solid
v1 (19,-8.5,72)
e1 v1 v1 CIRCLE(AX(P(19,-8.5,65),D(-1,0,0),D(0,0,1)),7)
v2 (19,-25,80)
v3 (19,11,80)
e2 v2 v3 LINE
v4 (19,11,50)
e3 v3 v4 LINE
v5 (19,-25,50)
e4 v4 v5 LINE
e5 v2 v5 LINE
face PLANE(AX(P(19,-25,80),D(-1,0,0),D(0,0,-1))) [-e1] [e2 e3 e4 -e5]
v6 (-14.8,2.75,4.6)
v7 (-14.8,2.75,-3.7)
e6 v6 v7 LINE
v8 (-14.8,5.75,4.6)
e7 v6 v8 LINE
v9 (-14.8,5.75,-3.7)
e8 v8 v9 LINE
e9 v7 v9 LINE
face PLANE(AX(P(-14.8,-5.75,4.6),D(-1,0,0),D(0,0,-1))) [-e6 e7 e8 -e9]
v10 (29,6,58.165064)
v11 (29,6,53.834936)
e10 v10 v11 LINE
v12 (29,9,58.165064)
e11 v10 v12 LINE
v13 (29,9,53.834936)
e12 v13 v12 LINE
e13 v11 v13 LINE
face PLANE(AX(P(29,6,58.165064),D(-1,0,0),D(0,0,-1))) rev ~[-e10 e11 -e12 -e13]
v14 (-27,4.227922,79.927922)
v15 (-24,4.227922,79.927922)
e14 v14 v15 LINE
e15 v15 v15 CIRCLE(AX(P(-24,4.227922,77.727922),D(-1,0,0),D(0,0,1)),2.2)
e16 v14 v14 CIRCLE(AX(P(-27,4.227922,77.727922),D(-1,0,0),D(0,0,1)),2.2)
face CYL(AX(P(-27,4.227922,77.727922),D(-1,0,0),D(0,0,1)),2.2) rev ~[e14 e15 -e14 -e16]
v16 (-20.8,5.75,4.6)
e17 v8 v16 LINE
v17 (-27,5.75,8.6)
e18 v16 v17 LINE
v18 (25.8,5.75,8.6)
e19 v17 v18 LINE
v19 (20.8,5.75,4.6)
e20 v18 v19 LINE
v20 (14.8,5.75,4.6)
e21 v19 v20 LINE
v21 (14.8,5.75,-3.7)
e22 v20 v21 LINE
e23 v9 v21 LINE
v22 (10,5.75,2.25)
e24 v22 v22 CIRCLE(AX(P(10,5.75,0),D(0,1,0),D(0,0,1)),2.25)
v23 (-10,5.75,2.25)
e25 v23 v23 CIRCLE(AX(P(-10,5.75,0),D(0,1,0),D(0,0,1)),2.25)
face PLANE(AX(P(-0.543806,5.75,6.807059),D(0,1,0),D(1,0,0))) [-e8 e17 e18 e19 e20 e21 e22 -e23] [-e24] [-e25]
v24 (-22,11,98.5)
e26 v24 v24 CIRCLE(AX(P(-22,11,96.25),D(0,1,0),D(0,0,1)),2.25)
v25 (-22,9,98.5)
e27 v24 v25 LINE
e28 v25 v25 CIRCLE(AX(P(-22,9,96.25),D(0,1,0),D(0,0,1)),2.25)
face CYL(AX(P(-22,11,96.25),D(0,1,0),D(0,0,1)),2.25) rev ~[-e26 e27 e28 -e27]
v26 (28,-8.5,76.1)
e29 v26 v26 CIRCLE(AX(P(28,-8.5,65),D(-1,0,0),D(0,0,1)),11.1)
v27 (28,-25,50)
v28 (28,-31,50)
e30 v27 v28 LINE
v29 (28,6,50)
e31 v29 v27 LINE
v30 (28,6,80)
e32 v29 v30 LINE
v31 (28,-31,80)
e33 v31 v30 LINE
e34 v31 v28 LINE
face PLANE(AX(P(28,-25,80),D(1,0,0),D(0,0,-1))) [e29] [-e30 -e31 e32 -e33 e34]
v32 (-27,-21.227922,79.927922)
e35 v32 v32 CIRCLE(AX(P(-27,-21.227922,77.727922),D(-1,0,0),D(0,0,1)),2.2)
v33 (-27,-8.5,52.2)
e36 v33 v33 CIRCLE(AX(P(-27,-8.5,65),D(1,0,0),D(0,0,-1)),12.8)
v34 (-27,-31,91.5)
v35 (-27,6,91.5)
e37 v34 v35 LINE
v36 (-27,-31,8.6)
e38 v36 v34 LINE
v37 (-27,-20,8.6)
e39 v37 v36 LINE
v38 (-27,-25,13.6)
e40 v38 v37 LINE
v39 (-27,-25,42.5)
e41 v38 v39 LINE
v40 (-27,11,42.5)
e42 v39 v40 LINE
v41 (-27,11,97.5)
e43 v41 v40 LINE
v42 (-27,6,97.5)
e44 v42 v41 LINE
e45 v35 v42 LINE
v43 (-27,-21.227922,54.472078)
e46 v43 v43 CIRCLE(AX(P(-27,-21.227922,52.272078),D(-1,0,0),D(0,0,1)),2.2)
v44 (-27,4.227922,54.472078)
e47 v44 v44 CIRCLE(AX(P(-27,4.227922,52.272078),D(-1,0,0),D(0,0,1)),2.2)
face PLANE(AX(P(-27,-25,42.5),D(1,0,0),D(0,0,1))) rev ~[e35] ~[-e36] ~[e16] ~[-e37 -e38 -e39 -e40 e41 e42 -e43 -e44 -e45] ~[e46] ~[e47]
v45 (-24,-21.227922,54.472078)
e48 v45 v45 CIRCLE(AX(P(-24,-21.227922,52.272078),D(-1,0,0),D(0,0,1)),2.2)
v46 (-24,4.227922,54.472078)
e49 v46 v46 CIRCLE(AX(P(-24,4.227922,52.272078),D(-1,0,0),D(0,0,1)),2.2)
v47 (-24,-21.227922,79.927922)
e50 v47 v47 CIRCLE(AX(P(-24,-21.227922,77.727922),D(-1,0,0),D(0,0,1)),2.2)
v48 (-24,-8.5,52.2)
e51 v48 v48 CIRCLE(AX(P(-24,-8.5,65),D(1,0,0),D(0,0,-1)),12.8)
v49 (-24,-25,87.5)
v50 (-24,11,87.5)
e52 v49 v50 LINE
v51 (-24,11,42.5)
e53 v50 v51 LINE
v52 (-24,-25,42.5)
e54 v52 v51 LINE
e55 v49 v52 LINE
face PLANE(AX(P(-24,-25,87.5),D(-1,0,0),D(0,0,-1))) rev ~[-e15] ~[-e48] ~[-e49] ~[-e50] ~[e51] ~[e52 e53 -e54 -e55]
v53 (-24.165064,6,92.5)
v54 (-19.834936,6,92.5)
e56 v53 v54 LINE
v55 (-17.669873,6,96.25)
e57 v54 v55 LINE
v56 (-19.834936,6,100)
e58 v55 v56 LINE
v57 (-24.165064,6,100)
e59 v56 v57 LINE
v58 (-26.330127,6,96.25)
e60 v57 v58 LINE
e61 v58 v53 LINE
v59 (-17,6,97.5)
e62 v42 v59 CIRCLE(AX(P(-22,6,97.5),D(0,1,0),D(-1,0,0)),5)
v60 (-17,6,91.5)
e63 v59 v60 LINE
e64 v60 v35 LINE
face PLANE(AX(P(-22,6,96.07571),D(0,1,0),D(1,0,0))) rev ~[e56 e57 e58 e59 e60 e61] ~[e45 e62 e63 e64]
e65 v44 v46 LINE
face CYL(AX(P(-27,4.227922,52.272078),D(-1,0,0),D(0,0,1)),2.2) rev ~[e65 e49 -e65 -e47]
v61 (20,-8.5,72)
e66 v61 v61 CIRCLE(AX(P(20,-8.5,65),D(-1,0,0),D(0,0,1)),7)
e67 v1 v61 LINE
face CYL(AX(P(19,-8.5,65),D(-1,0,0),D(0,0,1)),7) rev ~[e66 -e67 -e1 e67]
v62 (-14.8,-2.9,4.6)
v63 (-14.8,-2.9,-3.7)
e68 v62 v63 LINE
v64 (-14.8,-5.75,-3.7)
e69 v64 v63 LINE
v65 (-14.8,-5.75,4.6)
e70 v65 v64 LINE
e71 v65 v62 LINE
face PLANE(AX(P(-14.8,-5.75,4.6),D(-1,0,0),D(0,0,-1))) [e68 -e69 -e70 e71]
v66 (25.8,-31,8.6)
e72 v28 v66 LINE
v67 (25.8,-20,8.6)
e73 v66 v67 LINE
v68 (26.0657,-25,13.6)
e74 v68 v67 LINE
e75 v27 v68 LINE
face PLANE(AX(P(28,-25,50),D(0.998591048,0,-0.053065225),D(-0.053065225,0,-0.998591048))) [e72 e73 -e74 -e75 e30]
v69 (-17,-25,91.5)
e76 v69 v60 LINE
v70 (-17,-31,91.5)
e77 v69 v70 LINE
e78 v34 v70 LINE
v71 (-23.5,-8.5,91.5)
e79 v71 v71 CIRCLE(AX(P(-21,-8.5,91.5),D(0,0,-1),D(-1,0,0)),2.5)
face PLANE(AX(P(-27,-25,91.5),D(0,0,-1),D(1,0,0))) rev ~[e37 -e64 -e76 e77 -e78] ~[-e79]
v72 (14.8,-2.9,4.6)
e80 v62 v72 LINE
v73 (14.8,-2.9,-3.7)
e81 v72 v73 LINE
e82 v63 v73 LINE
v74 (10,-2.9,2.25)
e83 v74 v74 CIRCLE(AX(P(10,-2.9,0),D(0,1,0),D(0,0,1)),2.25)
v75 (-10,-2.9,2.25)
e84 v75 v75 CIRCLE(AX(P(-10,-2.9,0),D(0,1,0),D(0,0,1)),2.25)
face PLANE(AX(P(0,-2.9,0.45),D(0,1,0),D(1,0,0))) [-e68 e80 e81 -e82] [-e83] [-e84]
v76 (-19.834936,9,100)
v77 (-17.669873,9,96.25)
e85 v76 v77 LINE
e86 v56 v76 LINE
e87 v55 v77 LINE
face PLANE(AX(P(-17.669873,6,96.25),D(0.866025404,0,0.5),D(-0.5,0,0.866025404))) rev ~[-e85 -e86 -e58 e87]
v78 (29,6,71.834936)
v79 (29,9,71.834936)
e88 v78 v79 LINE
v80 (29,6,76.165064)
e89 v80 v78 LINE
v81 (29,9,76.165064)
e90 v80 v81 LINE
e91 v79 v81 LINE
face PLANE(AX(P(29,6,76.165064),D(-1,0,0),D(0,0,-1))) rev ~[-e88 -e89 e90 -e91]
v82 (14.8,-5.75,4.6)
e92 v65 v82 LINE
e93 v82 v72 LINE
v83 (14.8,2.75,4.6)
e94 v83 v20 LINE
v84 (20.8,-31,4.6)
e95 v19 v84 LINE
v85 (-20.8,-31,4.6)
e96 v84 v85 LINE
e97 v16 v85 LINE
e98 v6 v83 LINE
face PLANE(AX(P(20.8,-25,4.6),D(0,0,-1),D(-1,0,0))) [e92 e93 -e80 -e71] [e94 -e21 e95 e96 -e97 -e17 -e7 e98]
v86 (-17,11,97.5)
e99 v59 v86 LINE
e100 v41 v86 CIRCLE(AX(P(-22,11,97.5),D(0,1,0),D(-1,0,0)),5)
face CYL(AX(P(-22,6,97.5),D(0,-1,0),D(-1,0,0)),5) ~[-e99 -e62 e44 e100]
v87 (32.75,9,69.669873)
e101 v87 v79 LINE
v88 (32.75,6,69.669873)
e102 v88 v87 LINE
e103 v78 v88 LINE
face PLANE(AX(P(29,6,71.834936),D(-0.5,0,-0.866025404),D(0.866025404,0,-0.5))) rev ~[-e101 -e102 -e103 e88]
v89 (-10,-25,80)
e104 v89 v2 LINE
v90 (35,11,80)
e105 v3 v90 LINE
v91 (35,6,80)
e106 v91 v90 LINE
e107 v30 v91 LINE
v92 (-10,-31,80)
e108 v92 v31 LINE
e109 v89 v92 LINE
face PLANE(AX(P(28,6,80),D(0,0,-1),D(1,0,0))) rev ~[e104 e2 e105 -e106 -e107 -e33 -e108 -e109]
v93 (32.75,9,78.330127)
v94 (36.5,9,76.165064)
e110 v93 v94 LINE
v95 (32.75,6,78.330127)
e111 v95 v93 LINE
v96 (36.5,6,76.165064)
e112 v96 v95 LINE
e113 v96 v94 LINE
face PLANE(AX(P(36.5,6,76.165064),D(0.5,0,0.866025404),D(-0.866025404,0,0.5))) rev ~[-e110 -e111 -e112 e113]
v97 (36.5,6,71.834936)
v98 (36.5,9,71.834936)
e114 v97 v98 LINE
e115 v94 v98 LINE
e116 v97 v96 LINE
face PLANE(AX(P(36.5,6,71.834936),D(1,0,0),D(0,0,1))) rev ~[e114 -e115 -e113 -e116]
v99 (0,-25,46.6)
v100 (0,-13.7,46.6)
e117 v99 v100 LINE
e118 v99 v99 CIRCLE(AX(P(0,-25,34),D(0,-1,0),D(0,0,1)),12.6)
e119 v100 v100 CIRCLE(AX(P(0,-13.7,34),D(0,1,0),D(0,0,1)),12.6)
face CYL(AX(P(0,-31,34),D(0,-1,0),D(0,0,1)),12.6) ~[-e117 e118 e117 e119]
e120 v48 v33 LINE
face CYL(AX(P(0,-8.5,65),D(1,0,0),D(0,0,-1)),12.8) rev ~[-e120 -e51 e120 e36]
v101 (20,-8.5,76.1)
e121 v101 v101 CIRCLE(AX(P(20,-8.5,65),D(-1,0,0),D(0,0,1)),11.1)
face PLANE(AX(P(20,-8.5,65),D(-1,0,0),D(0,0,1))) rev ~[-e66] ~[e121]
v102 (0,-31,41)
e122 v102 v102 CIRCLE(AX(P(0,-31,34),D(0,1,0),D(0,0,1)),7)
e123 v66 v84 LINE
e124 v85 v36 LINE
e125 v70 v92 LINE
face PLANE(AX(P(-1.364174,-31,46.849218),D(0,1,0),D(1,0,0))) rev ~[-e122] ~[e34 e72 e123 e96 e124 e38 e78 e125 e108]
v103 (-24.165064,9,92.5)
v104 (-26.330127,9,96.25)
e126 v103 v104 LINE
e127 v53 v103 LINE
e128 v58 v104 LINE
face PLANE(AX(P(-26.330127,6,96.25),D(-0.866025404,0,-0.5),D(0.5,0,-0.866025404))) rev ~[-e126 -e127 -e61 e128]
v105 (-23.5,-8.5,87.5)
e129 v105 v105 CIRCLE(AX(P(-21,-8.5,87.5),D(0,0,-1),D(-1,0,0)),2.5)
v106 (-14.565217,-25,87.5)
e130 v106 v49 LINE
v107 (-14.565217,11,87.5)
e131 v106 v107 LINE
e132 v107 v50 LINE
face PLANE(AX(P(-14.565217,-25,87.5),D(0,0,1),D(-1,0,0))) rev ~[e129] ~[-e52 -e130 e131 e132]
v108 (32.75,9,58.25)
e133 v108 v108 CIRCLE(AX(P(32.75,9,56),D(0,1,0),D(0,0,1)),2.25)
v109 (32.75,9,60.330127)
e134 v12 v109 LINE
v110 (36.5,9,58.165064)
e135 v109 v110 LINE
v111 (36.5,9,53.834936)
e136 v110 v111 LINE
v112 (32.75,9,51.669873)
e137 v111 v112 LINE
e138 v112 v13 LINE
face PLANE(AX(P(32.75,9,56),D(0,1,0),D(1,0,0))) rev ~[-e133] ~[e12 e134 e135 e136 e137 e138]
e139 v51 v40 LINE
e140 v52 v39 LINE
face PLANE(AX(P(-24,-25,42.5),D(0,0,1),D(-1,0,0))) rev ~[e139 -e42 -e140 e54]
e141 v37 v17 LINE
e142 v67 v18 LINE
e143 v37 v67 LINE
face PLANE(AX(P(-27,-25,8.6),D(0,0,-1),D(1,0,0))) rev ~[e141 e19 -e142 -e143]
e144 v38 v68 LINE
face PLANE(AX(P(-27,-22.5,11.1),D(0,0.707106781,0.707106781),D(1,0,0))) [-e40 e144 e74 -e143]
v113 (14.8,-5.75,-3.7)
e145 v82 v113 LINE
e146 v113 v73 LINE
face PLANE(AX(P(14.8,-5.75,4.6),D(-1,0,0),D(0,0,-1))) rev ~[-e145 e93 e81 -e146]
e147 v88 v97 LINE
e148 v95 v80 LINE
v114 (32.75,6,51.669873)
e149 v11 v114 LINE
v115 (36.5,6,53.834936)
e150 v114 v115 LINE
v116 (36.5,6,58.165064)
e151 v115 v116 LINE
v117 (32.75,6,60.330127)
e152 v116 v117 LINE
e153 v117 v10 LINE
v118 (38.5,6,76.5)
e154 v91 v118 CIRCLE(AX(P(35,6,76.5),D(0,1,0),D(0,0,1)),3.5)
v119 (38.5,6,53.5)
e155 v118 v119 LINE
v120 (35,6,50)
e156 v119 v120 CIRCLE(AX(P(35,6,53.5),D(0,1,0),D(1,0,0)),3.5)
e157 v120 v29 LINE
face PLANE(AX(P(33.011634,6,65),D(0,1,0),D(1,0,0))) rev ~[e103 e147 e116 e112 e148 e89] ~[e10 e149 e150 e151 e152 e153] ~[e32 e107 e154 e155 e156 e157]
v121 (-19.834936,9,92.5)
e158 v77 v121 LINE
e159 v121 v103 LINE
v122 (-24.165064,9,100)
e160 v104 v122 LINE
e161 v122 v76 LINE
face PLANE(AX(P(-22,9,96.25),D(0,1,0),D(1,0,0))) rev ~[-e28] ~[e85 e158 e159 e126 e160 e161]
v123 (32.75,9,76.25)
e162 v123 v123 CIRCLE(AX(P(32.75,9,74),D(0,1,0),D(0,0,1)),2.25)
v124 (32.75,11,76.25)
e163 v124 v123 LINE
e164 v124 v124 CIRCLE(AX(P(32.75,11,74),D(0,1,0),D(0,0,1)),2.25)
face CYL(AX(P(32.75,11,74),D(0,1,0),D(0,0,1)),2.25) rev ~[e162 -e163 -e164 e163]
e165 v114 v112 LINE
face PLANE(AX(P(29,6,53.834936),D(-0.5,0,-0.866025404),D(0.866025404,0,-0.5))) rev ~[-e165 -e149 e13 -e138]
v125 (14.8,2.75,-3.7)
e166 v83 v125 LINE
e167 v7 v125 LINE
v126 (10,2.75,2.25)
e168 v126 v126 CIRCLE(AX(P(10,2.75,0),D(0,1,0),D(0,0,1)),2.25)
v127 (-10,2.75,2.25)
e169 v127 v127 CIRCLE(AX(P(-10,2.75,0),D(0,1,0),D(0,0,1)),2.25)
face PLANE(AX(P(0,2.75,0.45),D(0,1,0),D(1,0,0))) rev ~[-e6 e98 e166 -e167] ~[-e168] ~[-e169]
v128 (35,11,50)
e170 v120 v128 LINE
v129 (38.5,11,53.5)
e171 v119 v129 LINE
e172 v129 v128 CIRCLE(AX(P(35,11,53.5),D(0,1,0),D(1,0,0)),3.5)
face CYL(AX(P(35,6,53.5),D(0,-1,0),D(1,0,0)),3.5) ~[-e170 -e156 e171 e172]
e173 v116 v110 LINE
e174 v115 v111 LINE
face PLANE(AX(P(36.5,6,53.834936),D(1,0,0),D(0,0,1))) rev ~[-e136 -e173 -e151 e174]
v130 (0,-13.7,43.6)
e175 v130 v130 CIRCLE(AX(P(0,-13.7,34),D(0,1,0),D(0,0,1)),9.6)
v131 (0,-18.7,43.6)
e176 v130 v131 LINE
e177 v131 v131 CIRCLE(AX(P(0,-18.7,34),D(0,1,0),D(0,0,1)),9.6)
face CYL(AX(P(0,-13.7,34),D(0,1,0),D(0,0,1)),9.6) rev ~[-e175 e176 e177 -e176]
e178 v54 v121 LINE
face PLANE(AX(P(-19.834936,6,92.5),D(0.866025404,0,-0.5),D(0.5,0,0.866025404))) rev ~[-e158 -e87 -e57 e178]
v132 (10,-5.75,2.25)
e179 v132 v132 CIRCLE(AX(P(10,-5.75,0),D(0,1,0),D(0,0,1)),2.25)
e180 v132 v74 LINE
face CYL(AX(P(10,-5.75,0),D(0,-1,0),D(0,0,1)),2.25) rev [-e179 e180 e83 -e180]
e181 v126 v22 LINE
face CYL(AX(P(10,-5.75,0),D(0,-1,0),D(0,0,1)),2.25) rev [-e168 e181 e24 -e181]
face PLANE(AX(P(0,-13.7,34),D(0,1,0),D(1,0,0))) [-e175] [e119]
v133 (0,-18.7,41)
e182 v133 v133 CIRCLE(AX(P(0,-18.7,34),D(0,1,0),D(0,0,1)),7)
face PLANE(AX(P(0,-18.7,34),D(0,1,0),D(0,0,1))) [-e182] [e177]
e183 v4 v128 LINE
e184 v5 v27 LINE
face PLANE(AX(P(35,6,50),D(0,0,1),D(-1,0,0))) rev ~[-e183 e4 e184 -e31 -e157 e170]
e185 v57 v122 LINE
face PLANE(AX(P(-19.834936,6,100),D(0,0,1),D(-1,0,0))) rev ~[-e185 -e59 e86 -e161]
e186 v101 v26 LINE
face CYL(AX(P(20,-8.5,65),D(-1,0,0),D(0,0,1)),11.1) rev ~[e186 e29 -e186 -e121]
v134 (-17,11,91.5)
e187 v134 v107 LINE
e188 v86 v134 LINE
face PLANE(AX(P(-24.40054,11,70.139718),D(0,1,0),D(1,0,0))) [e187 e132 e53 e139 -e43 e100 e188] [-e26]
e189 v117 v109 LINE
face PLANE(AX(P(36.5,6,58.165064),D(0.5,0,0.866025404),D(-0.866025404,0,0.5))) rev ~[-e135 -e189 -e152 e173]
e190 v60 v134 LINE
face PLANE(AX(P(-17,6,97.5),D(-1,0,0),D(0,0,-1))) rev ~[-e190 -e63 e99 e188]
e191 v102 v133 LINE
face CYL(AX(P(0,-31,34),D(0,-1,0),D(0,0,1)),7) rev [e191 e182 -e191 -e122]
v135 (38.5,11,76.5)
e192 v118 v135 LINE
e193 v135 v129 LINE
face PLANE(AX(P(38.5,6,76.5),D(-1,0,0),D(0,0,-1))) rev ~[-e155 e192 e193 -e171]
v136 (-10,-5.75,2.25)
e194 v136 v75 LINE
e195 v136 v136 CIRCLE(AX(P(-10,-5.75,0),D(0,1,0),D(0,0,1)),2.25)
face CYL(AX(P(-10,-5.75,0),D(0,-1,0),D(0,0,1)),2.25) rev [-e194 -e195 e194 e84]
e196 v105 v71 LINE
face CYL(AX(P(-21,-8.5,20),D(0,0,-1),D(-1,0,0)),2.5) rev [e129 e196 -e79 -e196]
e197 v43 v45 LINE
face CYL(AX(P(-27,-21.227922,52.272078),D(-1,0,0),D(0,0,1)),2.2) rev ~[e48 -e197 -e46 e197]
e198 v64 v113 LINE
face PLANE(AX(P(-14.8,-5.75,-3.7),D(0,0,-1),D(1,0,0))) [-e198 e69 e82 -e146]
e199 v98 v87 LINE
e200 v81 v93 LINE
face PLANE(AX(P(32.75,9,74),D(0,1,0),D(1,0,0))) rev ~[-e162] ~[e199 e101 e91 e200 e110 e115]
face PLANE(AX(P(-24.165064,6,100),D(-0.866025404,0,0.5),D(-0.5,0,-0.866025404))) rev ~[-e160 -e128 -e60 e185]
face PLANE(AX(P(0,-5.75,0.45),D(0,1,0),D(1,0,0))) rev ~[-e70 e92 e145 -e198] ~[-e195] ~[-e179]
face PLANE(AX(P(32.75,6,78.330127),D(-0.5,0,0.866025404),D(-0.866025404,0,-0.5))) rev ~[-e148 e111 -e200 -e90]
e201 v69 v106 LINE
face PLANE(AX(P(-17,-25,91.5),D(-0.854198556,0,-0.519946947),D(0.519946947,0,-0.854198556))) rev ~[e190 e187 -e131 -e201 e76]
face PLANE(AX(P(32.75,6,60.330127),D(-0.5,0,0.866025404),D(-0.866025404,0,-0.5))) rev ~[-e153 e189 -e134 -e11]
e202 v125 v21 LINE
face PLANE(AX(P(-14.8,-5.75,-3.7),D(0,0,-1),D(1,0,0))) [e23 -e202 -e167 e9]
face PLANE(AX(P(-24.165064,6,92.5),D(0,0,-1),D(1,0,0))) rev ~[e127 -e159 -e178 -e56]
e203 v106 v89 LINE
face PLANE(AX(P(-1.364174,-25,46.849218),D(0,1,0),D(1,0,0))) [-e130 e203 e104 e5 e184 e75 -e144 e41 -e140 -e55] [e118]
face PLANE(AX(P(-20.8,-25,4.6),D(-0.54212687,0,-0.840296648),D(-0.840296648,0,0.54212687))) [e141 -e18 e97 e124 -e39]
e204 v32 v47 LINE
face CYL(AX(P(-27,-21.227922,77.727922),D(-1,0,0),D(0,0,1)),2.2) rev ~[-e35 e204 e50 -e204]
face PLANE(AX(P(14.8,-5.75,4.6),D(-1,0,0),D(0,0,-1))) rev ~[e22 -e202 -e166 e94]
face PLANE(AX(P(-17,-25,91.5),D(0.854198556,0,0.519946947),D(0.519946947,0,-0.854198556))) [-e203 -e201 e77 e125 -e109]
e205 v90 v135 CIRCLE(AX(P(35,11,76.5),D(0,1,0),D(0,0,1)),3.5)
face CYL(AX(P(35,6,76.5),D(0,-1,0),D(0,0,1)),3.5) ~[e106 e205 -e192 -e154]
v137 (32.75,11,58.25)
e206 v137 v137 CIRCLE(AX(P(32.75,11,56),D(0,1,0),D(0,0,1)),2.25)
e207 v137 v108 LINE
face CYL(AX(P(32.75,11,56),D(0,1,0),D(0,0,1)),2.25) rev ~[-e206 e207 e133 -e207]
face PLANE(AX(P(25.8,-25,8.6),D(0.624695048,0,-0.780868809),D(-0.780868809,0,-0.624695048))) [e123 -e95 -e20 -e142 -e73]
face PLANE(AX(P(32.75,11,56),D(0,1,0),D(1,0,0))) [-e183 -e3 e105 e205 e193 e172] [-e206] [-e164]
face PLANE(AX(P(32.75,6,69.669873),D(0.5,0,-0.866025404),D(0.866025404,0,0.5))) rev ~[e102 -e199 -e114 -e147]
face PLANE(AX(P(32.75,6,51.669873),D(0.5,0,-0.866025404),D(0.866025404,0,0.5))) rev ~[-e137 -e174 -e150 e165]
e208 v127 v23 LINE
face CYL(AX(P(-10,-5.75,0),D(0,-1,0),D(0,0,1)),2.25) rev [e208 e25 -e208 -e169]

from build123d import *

# Parameters (mm, degrees)
BOSS_EXTRUDE1_DEPTH      = 5.75
BOSS_EXTRUDE1_DEPTH_BACK = 5.75
SKETCH1_W                = 29.6
SKETCH1_H                = 8.3
SKETCH1_R                = 2.25
CUT_EXTRUDE1_DEPTH       = 2.75
CUT_EXTRUDE1_DEPTH_BACK  = 2.9
SKETCH1_4_W              = 29.6
SKETCH1_4_H              = 8.3
SKETCH1_4_R              = 2.25
BOSS_EXTRUDE2_DEPTH      = 5.75
BOSS_EXTRUDE2_DEPTH_BACK = 25
BOSS_EXTRUDE3_START      = -25
SKETCH1_6_R              = 9.6
BOSS_EXTRUDE3_DEPTH      = 6
BOSS_EXTRUDE5_START      = -25
SKETCH1_8_W              = 9
SKETCH1_8_H              = 30
BOSS_EXTRUDE5_DEPTH      = 36
BOSS_EXTRUDE6_START      = -25
SKETCH1_10_W             = 9
SKETCH1_10_H             = 30
BOSS_EXTRUDE6_DEPTH      = 32.5
CUT_EXTRUDE3_START       = -1
SKETCH5_R                = 11.1
SKETCH5_R_2              = 7
CUT_EXTRUDE3_DEPTH       = 8
SKETCH5_4_R              = 7
CUT_EXTRUDE4_DEPTH       = 108.001168218
CHAMFER1_SIZE            = 5
BOSS_EXTRUDE7_START      = -31
SKETCH1_17_R             = 12.6
SKETCH1_17_R_2           = 9.6
SKETCH1_17_R_3           = 7
BOSS_EXTRUDE7_DEPTH      = 17.3
CUT_EXTRUDE7_START       = -13.7
SKETCH1_18_R             = 9.6
SKETCH1_18_R_2           = 7
CUT_EXTRUDE7_DEPTH       = 5
BOSS_EXTRUDE8_START      = 6
BOSS_EXTRUDE8_DEPTH      = 5
BOSS_EXTRUDE9_START      = 11
SKETCH1_21_R             = 2.25
BOSS_EXTRUDE9_DEPTH      = 2
CUT_EXTRUDE5_START       = 46
SKETCH5_5_R              = 11.1
SKETCH5_5_R_2            = 2.2
CUT_EXTRUDE5_DEPTH       = 8
SKETCH6_R                = 12.8
CUT_EXTRUDE9_DEPTH       = 114.795869872
CUT_EXTRUDE10_START      = 20
SKETCH7_R                = 2.5
CUT_EXTRUDE10_DEPTH      = 94.795869872


with BuildPart() as part:
    # Sketch1 → Boss-Extrude1 (new, two sides: drawn at the far end of the back side and taken through both)
    with BuildSketch(Plane(origin=(0, 0, 0), x_dir=(1, 0, 0), z_dir=(0, 1, 0)).offset(-BOSS_EXTRUDE1_DEPTH_BACK)):
        with Locations((0, -0.45)):
            Rectangle(SKETCH1_W, SKETCH1_H)
        with Locations(Location((-10, 0, 0), (0, 0, 270))):
            Circle(SKETCH1_R, mode=Mode.SUBTRACT)
        with Locations(Location((10, 0, 0), (0, 0, 270))):
            Circle(SKETCH1_R, mode=Mode.SUBTRACT)
    extrude(amount=BOSS_EXTRUDE1_DEPTH + BOSS_EXTRUDE1_DEPTH_BACK)

    # Sketch1<4> → Cut-Extrude1 (cut, two sides: drawn at the far end of the back side and taken through both)
    with BuildSketch(Plane(origin=(0, 0, 0), x_dir=(1, 0, 0), z_dir=(0, 1, 0)).offset(-CUT_EXTRUDE1_DEPTH_BACK)):
        with Locations((0, -0.45)):
            Rectangle(SKETCH1_4_W, SKETCH1_4_H)
        with Locations(Location((-10, 0, 0), (0, 0, 270))):
            Circle(SKETCH1_4_R, mode=Mode.SUBTRACT)
        with Locations(Location((10, 0, 0), (0, 0, 270))):
            Circle(SKETCH1_4_R, mode=Mode.SUBTRACT)
    extrude(amount=CUT_EXTRUDE1_DEPTH + CUT_EXTRUDE1_DEPTH_BACK, mode=Mode.SUBTRACT)


with BuildPart() as cut_extrude1_piece_1:
    # of the separate pieces the step leaves, piece 1, a body of its own (cut_extrude1_pieces)
    add(part.part.solids().sort_by_distance((-14.8, 2.75, -3.7))[0])



with BuildPart() as cut_extrude1_piece_2:
    # of the separate pieces the step leaves, piece 2, a body of its own (cut_extrude1_pieces)
    add(part.part.solids().sort_by_distance((-14.8, -5.75, -3.7))[0])


with BuildPart() as cut_extrude1_piece_1_1:
    add(cut_extrude1_piece_1.part)

    add(cut_extrude1_piece_2.part)  # Boss-Extrude2 merges Cut-Extrude1 piece 2
    # Sketch1<5> → Boss-Extrude2 (add, two sides: drawn at the far end of the back side and taken through both)
    with BuildSketch(Plane(origin=(0, 0, 0), x_dir=(1, 0, 0), z_dir=(0, 1, 0)).offset(-BOSS_EXTRUDE2_DEPTH_BACK)):
        Polygon((14.8, -4.6), (-14.8, -4.6), (-20.8, -4.6), (-27, -8.6), (25.8, -8.6), (20.8, -4.6), align=None)
    extrude(amount=BOSS_EXTRUDE2_DEPTH + BOSS_EXTRUDE2_DEPTH_BACK)

    # Sketch1<6> → Boss-Extrude3 (add)
    with BuildSketch(Plane(origin=(0, 0, 0), x_dir=(1, 0, 0), z_dir=(0, 1, 0)).offset(BOSS_EXTRUDE3_START)):
        Polygon((-20.8, -4.6), (-27, -8.6), (-27, -91.5), (-17, -91.5), (-10, -80), (28, -80), (28, -50), (25.8, -8.6), (20.8, -4.6), align=None)
        with Locations(Location((0, -34, 0), (0, 0, 270))):
            Circle(SKETCH1_6_R, mode=Mode.SUBTRACT)
    extrude(amount=-BOSS_EXTRUDE3_DEPTH)

    # Sketch1<8> → Boss-Extrude5 (add)
    with BuildSketch(Plane(origin=(0, 0, 0), x_dir=(1, 0, 0), z_dir=(0, 1, 0)).offset(BOSS_EXTRUDE5_START)):
        Polygon((-24, -42.5), (-27, -42.5), (-27, -91.5), (-17, -91.5), (-14.565217391, -87.5), (-24, -87.5), align=None)
        with Locations((23.5, -65)):
            Rectangle(SKETCH1_8_W, SKETCH1_8_H)
    extrude(amount=BOSS_EXTRUDE5_DEPTH)

    # Sketch1<10> → Boss-Extrude6 (add)
    with BuildSketch(Plane(origin=(0, 0, 0), x_dir=(1, 0, 0), z_dir=(0, 1, 0)).offset(BOSS_EXTRUDE6_START)):
        with Locations((23.5, -65)):
            Rectangle(SKETCH1_10_W, SKETCH1_10_H)
    extrude(amount=BOSS_EXTRUDE6_DEPTH)

    # Sketch5 → Cut-Extrude3 (cut)
    # profile 1 of 2: a face of its own
    with BuildSketch(Plane.ZY.offset(-19).offset(CUT_EXTRUDE3_START)):
        with Locations((65, -8.5)):
            Circle(SKETCH5_R)
        with Locations((65, -8.5)):
            Circle(SKETCH5_R_2, mode=Mode.SUBTRACT)
    # profile 2 of 2: a face of its own
    with BuildSketch(Plane.ZY.offset(-19).offset(CUT_EXTRUDE3_START)):
        with Locations((65, -8.5)):
            Circle(SKETCH5_R_2)
    extrude(amount=-CUT_EXTRUDE3_DEPTH, mode=Mode.SUBTRACT)

    # Sketch5<4> → Cut-Extrude4 (cut, through all)
    with BuildSketch(Plane.ZY.offset(-19)):
        with Locations((65, -8.5)):
            Circle(SKETCH5_4_R)
    extrude(amount=-CUT_EXTRUDE4_DEPTH, mode=Mode.SUBTRACT)

    # Chamfer1
    chamfer1_edges = [cut_extrude1_piece_1_1.edges().sort_by_distance(p)[0] for p in [
        (-0.6, -25, 8.6),
    ]]
    chamfer(chamfer1_edges, length=CHAMFER1_SIZE)

    # Sketch1<17> → Boss-Extrude7 (add)
    # profile 1 of 2: a face of its own
    with BuildSketch(Plane(origin=(0, 0, 0), x_dir=(1, 0, 0), z_dir=(0, 1, 0)).offset(BOSS_EXTRUDE7_START)):
        with Locations(Location((0, -34, 0), (0, 0, 270))):
            Circle(SKETCH1_17_R)
        with Locations((0, -34)):
            Circle(SKETCH1_17_R_2, mode=Mode.SUBTRACT)
    # profile 2 of 2: a face of its own
    with BuildSketch(Plane(origin=(0, 0, 0), x_dir=(1, 0, 0), z_dir=(0, 1, 0)).offset(BOSS_EXTRUDE7_START)):
        with Locations((0, -34)):
            Circle(SKETCH1_17_R_2)
        with Locations(Location((0, -34, 0), (0, 0, 270))):
            Circle(SKETCH1_17_R_3, mode=Mode.SUBTRACT)
    extrude(amount=BOSS_EXTRUDE7_DEPTH)

    # Sketch1<18> → Cut-Extrude7 (cut)
    with BuildSketch(Plane(origin=(0, 0, 0), x_dir=(1, 0, 0), z_dir=(0, 1, 0)).offset(CUT_EXTRUDE7_START)):
        with Locations(Location((0, -34, 0), (0, 0, 270))):
            Circle(SKETCH1_18_R)
        with Locations(Location((0, -34, 0), (0, 0, 270))):
            Circle(SKETCH1_18_R_2, mode=Mode.SUBTRACT)
    extrude(amount=-CUT_EXTRUDE7_DEPTH, mode=Mode.SUBTRACT)

    # Sketch1<20> → Boss-Extrude8 (add)
    # profile 1 of 2: a face of its own
    with BuildSketch(Plane(origin=(0, 0, 0), x_dir=(1, 0, 0), z_dir=(0, 1, 0)).offset(BOSS_EXTRUDE8_START)):
        with BuildLine():
            Line((35, -50), (28, -50))
            Line((28, -50), (28, -80))
            Line((28, -80), (35, -80))
            ThreePointArc((35, -80), (37.474873734, -78.974873734), (38.5, -76.5))
            Line((38.5, -76.5), (38.5, -53.5))
            ThreePointArc((38.5, -53.5), (37.474873734, -51.025126266), (35, -50))
        make_face()
        Polygon((32.75, -78.330127019), (29, -76.165063509), (29, -71.834936491), (32.75, -69.669872981), (36.5, -71.834936491), (36.5, -76.165063509), align=None, mode=Mode.SUBTRACT)
        Polygon((36.5, -58.165063509), (32.75, -60.330127019), (29, -58.165063509), (29, -53.834936491), (32.75, -51.669872981), (36.5, -53.834936491), align=None, mode=Mode.SUBTRACT)
    # profile 2 of 2: a face of its own
    with BuildSketch(Plane(origin=(0, 0, 0), x_dir=(1, 0, 0), z_dir=(0, 1, 0)).offset(BOSS_EXTRUDE8_START)):
        with BuildLine():
            Line((-17, -91.5), (-27, -91.5))
            Line((-27, -91.5), (-27, -97.5))
            ThreePointArc((-27, -97.5), (-22, -102.5), (-17, -97.5))
            Line((-17, -97.5), (-17, -91.5))
        make_face()
        Polygon((-19.834936491, -92.5), (-17.669872981, -96.25), (-19.834936491, -100), (-24.165063509, -100), (-26.330127019, -96.25), (-24.165063509, -92.5), align=None, mode=Mode.SUBTRACT)
    extrude(amount=BOSS_EXTRUDE8_DEPTH)

    # Sketch1<21> → Boss-Extrude9 (add)
    # profile 1 of 3: a face of its own
    with BuildSketch(Plane(origin=(0, 0, 0), x_dir=(1, 0, 0), z_dir=(0, 1, 0)).offset(BOSS_EXTRUDE9_START)):
        Polygon((29, -53.834936491), (29, -58.165063509), (32.75, -60.330127019), (36.5, -58.165063509), (36.5, -53.834936491), (32.75, -51.669872981), align=None)
        with Locations(Location((32.75, -56, 0), (0, 0, 270))):
            Circle(SKETCH1_21_R, mode=Mode.SUBTRACT)
    # profile 2 of 3: a face of its own
    with BuildSketch(Plane(origin=(0, 0, 0), x_dir=(1, 0, 0), z_dir=(0, 1, 0)).offset(BOSS_EXTRUDE9_START)):
        Polygon((32.75, -69.669872981), (29, -71.834936491), (29, -76.165063509), (32.75, -78.330127019), (36.5, -76.165063509), (36.5, -71.834936491), align=None)
        with Locations(Location((32.75, -74, 0), (0, 0, 270))):
            Circle(SKETCH1_21_R, mode=Mode.SUBTRACT)
    # profile 3 of 3: a face of its own
    with BuildSketch(Plane(origin=(0, 0, 0), x_dir=(1, 0, 0), z_dir=(0, 1, 0)).offset(BOSS_EXTRUDE9_START)):
        Polygon((-24.165063509, -100), (-19.834936491, -100), (-17.669872981, -96.25), (-19.834936491, -92.5), (-24.165063509, -92.5), (-26.330127019, -96.25), align=None)
        with Locations(Location((-22, -96.25, 0), (0, 0, 270))):
            Circle(SKETCH1_21_R, mode=Mode.SUBTRACT)
    extrude(amount=-BOSS_EXTRUDE9_DEPTH)

    # Sketch5<5> → Cut-Extrude5 (cut)
    with BuildSketch(Plane.ZY.offset(-19).offset(CUT_EXTRUDE5_START)):
        with Locations((65, -8.5)):
            Circle(SKETCH5_5_R)
        with Locations((52.272077939, 4.227922061)):
            Circle(SKETCH5_5_R_2)
        with Locations((77.727922061, 4.227922061)):
            Circle(SKETCH5_5_R_2)
        with Locations((77.727922061, -21.227922061)):
            Circle(SKETCH5_5_R_2)
        with Locations((52.272077939, -21.227922061)):
            Circle(SKETCH5_5_R_2)
    extrude(amount=-CUT_EXTRUDE5_DEPTH, mode=Mode.SUBTRACT)

    # Sketch6 → Cut-Extrude9 (cut, through all)
    with BuildSketch(Plane(origin=(0, 0, 0), x_dir=(0, 0, -1), z_dir=(1, 0, 0))):
        with Locations((-65, -8.5)):
            Circle(SKETCH6_R)
    extrude(amount=-CUT_EXTRUDE9_DEPTH, mode=Mode.SUBTRACT)

    # Sketch7 → Cut-Extrude10 (cut, through all)
    with BuildSketch(Plane.XY.offset(CUT_EXTRUDE10_START)):
        with Locations(Location((-21, -8.5, 0), (0, 0, 180))):
            Circle(SKETCH7_R)
    extrude(amount=CUT_EXTRUDE10_DEPTH, mode=Mode.SUBTRACT)


solid = cut_extrude1_piece_1_1.part
